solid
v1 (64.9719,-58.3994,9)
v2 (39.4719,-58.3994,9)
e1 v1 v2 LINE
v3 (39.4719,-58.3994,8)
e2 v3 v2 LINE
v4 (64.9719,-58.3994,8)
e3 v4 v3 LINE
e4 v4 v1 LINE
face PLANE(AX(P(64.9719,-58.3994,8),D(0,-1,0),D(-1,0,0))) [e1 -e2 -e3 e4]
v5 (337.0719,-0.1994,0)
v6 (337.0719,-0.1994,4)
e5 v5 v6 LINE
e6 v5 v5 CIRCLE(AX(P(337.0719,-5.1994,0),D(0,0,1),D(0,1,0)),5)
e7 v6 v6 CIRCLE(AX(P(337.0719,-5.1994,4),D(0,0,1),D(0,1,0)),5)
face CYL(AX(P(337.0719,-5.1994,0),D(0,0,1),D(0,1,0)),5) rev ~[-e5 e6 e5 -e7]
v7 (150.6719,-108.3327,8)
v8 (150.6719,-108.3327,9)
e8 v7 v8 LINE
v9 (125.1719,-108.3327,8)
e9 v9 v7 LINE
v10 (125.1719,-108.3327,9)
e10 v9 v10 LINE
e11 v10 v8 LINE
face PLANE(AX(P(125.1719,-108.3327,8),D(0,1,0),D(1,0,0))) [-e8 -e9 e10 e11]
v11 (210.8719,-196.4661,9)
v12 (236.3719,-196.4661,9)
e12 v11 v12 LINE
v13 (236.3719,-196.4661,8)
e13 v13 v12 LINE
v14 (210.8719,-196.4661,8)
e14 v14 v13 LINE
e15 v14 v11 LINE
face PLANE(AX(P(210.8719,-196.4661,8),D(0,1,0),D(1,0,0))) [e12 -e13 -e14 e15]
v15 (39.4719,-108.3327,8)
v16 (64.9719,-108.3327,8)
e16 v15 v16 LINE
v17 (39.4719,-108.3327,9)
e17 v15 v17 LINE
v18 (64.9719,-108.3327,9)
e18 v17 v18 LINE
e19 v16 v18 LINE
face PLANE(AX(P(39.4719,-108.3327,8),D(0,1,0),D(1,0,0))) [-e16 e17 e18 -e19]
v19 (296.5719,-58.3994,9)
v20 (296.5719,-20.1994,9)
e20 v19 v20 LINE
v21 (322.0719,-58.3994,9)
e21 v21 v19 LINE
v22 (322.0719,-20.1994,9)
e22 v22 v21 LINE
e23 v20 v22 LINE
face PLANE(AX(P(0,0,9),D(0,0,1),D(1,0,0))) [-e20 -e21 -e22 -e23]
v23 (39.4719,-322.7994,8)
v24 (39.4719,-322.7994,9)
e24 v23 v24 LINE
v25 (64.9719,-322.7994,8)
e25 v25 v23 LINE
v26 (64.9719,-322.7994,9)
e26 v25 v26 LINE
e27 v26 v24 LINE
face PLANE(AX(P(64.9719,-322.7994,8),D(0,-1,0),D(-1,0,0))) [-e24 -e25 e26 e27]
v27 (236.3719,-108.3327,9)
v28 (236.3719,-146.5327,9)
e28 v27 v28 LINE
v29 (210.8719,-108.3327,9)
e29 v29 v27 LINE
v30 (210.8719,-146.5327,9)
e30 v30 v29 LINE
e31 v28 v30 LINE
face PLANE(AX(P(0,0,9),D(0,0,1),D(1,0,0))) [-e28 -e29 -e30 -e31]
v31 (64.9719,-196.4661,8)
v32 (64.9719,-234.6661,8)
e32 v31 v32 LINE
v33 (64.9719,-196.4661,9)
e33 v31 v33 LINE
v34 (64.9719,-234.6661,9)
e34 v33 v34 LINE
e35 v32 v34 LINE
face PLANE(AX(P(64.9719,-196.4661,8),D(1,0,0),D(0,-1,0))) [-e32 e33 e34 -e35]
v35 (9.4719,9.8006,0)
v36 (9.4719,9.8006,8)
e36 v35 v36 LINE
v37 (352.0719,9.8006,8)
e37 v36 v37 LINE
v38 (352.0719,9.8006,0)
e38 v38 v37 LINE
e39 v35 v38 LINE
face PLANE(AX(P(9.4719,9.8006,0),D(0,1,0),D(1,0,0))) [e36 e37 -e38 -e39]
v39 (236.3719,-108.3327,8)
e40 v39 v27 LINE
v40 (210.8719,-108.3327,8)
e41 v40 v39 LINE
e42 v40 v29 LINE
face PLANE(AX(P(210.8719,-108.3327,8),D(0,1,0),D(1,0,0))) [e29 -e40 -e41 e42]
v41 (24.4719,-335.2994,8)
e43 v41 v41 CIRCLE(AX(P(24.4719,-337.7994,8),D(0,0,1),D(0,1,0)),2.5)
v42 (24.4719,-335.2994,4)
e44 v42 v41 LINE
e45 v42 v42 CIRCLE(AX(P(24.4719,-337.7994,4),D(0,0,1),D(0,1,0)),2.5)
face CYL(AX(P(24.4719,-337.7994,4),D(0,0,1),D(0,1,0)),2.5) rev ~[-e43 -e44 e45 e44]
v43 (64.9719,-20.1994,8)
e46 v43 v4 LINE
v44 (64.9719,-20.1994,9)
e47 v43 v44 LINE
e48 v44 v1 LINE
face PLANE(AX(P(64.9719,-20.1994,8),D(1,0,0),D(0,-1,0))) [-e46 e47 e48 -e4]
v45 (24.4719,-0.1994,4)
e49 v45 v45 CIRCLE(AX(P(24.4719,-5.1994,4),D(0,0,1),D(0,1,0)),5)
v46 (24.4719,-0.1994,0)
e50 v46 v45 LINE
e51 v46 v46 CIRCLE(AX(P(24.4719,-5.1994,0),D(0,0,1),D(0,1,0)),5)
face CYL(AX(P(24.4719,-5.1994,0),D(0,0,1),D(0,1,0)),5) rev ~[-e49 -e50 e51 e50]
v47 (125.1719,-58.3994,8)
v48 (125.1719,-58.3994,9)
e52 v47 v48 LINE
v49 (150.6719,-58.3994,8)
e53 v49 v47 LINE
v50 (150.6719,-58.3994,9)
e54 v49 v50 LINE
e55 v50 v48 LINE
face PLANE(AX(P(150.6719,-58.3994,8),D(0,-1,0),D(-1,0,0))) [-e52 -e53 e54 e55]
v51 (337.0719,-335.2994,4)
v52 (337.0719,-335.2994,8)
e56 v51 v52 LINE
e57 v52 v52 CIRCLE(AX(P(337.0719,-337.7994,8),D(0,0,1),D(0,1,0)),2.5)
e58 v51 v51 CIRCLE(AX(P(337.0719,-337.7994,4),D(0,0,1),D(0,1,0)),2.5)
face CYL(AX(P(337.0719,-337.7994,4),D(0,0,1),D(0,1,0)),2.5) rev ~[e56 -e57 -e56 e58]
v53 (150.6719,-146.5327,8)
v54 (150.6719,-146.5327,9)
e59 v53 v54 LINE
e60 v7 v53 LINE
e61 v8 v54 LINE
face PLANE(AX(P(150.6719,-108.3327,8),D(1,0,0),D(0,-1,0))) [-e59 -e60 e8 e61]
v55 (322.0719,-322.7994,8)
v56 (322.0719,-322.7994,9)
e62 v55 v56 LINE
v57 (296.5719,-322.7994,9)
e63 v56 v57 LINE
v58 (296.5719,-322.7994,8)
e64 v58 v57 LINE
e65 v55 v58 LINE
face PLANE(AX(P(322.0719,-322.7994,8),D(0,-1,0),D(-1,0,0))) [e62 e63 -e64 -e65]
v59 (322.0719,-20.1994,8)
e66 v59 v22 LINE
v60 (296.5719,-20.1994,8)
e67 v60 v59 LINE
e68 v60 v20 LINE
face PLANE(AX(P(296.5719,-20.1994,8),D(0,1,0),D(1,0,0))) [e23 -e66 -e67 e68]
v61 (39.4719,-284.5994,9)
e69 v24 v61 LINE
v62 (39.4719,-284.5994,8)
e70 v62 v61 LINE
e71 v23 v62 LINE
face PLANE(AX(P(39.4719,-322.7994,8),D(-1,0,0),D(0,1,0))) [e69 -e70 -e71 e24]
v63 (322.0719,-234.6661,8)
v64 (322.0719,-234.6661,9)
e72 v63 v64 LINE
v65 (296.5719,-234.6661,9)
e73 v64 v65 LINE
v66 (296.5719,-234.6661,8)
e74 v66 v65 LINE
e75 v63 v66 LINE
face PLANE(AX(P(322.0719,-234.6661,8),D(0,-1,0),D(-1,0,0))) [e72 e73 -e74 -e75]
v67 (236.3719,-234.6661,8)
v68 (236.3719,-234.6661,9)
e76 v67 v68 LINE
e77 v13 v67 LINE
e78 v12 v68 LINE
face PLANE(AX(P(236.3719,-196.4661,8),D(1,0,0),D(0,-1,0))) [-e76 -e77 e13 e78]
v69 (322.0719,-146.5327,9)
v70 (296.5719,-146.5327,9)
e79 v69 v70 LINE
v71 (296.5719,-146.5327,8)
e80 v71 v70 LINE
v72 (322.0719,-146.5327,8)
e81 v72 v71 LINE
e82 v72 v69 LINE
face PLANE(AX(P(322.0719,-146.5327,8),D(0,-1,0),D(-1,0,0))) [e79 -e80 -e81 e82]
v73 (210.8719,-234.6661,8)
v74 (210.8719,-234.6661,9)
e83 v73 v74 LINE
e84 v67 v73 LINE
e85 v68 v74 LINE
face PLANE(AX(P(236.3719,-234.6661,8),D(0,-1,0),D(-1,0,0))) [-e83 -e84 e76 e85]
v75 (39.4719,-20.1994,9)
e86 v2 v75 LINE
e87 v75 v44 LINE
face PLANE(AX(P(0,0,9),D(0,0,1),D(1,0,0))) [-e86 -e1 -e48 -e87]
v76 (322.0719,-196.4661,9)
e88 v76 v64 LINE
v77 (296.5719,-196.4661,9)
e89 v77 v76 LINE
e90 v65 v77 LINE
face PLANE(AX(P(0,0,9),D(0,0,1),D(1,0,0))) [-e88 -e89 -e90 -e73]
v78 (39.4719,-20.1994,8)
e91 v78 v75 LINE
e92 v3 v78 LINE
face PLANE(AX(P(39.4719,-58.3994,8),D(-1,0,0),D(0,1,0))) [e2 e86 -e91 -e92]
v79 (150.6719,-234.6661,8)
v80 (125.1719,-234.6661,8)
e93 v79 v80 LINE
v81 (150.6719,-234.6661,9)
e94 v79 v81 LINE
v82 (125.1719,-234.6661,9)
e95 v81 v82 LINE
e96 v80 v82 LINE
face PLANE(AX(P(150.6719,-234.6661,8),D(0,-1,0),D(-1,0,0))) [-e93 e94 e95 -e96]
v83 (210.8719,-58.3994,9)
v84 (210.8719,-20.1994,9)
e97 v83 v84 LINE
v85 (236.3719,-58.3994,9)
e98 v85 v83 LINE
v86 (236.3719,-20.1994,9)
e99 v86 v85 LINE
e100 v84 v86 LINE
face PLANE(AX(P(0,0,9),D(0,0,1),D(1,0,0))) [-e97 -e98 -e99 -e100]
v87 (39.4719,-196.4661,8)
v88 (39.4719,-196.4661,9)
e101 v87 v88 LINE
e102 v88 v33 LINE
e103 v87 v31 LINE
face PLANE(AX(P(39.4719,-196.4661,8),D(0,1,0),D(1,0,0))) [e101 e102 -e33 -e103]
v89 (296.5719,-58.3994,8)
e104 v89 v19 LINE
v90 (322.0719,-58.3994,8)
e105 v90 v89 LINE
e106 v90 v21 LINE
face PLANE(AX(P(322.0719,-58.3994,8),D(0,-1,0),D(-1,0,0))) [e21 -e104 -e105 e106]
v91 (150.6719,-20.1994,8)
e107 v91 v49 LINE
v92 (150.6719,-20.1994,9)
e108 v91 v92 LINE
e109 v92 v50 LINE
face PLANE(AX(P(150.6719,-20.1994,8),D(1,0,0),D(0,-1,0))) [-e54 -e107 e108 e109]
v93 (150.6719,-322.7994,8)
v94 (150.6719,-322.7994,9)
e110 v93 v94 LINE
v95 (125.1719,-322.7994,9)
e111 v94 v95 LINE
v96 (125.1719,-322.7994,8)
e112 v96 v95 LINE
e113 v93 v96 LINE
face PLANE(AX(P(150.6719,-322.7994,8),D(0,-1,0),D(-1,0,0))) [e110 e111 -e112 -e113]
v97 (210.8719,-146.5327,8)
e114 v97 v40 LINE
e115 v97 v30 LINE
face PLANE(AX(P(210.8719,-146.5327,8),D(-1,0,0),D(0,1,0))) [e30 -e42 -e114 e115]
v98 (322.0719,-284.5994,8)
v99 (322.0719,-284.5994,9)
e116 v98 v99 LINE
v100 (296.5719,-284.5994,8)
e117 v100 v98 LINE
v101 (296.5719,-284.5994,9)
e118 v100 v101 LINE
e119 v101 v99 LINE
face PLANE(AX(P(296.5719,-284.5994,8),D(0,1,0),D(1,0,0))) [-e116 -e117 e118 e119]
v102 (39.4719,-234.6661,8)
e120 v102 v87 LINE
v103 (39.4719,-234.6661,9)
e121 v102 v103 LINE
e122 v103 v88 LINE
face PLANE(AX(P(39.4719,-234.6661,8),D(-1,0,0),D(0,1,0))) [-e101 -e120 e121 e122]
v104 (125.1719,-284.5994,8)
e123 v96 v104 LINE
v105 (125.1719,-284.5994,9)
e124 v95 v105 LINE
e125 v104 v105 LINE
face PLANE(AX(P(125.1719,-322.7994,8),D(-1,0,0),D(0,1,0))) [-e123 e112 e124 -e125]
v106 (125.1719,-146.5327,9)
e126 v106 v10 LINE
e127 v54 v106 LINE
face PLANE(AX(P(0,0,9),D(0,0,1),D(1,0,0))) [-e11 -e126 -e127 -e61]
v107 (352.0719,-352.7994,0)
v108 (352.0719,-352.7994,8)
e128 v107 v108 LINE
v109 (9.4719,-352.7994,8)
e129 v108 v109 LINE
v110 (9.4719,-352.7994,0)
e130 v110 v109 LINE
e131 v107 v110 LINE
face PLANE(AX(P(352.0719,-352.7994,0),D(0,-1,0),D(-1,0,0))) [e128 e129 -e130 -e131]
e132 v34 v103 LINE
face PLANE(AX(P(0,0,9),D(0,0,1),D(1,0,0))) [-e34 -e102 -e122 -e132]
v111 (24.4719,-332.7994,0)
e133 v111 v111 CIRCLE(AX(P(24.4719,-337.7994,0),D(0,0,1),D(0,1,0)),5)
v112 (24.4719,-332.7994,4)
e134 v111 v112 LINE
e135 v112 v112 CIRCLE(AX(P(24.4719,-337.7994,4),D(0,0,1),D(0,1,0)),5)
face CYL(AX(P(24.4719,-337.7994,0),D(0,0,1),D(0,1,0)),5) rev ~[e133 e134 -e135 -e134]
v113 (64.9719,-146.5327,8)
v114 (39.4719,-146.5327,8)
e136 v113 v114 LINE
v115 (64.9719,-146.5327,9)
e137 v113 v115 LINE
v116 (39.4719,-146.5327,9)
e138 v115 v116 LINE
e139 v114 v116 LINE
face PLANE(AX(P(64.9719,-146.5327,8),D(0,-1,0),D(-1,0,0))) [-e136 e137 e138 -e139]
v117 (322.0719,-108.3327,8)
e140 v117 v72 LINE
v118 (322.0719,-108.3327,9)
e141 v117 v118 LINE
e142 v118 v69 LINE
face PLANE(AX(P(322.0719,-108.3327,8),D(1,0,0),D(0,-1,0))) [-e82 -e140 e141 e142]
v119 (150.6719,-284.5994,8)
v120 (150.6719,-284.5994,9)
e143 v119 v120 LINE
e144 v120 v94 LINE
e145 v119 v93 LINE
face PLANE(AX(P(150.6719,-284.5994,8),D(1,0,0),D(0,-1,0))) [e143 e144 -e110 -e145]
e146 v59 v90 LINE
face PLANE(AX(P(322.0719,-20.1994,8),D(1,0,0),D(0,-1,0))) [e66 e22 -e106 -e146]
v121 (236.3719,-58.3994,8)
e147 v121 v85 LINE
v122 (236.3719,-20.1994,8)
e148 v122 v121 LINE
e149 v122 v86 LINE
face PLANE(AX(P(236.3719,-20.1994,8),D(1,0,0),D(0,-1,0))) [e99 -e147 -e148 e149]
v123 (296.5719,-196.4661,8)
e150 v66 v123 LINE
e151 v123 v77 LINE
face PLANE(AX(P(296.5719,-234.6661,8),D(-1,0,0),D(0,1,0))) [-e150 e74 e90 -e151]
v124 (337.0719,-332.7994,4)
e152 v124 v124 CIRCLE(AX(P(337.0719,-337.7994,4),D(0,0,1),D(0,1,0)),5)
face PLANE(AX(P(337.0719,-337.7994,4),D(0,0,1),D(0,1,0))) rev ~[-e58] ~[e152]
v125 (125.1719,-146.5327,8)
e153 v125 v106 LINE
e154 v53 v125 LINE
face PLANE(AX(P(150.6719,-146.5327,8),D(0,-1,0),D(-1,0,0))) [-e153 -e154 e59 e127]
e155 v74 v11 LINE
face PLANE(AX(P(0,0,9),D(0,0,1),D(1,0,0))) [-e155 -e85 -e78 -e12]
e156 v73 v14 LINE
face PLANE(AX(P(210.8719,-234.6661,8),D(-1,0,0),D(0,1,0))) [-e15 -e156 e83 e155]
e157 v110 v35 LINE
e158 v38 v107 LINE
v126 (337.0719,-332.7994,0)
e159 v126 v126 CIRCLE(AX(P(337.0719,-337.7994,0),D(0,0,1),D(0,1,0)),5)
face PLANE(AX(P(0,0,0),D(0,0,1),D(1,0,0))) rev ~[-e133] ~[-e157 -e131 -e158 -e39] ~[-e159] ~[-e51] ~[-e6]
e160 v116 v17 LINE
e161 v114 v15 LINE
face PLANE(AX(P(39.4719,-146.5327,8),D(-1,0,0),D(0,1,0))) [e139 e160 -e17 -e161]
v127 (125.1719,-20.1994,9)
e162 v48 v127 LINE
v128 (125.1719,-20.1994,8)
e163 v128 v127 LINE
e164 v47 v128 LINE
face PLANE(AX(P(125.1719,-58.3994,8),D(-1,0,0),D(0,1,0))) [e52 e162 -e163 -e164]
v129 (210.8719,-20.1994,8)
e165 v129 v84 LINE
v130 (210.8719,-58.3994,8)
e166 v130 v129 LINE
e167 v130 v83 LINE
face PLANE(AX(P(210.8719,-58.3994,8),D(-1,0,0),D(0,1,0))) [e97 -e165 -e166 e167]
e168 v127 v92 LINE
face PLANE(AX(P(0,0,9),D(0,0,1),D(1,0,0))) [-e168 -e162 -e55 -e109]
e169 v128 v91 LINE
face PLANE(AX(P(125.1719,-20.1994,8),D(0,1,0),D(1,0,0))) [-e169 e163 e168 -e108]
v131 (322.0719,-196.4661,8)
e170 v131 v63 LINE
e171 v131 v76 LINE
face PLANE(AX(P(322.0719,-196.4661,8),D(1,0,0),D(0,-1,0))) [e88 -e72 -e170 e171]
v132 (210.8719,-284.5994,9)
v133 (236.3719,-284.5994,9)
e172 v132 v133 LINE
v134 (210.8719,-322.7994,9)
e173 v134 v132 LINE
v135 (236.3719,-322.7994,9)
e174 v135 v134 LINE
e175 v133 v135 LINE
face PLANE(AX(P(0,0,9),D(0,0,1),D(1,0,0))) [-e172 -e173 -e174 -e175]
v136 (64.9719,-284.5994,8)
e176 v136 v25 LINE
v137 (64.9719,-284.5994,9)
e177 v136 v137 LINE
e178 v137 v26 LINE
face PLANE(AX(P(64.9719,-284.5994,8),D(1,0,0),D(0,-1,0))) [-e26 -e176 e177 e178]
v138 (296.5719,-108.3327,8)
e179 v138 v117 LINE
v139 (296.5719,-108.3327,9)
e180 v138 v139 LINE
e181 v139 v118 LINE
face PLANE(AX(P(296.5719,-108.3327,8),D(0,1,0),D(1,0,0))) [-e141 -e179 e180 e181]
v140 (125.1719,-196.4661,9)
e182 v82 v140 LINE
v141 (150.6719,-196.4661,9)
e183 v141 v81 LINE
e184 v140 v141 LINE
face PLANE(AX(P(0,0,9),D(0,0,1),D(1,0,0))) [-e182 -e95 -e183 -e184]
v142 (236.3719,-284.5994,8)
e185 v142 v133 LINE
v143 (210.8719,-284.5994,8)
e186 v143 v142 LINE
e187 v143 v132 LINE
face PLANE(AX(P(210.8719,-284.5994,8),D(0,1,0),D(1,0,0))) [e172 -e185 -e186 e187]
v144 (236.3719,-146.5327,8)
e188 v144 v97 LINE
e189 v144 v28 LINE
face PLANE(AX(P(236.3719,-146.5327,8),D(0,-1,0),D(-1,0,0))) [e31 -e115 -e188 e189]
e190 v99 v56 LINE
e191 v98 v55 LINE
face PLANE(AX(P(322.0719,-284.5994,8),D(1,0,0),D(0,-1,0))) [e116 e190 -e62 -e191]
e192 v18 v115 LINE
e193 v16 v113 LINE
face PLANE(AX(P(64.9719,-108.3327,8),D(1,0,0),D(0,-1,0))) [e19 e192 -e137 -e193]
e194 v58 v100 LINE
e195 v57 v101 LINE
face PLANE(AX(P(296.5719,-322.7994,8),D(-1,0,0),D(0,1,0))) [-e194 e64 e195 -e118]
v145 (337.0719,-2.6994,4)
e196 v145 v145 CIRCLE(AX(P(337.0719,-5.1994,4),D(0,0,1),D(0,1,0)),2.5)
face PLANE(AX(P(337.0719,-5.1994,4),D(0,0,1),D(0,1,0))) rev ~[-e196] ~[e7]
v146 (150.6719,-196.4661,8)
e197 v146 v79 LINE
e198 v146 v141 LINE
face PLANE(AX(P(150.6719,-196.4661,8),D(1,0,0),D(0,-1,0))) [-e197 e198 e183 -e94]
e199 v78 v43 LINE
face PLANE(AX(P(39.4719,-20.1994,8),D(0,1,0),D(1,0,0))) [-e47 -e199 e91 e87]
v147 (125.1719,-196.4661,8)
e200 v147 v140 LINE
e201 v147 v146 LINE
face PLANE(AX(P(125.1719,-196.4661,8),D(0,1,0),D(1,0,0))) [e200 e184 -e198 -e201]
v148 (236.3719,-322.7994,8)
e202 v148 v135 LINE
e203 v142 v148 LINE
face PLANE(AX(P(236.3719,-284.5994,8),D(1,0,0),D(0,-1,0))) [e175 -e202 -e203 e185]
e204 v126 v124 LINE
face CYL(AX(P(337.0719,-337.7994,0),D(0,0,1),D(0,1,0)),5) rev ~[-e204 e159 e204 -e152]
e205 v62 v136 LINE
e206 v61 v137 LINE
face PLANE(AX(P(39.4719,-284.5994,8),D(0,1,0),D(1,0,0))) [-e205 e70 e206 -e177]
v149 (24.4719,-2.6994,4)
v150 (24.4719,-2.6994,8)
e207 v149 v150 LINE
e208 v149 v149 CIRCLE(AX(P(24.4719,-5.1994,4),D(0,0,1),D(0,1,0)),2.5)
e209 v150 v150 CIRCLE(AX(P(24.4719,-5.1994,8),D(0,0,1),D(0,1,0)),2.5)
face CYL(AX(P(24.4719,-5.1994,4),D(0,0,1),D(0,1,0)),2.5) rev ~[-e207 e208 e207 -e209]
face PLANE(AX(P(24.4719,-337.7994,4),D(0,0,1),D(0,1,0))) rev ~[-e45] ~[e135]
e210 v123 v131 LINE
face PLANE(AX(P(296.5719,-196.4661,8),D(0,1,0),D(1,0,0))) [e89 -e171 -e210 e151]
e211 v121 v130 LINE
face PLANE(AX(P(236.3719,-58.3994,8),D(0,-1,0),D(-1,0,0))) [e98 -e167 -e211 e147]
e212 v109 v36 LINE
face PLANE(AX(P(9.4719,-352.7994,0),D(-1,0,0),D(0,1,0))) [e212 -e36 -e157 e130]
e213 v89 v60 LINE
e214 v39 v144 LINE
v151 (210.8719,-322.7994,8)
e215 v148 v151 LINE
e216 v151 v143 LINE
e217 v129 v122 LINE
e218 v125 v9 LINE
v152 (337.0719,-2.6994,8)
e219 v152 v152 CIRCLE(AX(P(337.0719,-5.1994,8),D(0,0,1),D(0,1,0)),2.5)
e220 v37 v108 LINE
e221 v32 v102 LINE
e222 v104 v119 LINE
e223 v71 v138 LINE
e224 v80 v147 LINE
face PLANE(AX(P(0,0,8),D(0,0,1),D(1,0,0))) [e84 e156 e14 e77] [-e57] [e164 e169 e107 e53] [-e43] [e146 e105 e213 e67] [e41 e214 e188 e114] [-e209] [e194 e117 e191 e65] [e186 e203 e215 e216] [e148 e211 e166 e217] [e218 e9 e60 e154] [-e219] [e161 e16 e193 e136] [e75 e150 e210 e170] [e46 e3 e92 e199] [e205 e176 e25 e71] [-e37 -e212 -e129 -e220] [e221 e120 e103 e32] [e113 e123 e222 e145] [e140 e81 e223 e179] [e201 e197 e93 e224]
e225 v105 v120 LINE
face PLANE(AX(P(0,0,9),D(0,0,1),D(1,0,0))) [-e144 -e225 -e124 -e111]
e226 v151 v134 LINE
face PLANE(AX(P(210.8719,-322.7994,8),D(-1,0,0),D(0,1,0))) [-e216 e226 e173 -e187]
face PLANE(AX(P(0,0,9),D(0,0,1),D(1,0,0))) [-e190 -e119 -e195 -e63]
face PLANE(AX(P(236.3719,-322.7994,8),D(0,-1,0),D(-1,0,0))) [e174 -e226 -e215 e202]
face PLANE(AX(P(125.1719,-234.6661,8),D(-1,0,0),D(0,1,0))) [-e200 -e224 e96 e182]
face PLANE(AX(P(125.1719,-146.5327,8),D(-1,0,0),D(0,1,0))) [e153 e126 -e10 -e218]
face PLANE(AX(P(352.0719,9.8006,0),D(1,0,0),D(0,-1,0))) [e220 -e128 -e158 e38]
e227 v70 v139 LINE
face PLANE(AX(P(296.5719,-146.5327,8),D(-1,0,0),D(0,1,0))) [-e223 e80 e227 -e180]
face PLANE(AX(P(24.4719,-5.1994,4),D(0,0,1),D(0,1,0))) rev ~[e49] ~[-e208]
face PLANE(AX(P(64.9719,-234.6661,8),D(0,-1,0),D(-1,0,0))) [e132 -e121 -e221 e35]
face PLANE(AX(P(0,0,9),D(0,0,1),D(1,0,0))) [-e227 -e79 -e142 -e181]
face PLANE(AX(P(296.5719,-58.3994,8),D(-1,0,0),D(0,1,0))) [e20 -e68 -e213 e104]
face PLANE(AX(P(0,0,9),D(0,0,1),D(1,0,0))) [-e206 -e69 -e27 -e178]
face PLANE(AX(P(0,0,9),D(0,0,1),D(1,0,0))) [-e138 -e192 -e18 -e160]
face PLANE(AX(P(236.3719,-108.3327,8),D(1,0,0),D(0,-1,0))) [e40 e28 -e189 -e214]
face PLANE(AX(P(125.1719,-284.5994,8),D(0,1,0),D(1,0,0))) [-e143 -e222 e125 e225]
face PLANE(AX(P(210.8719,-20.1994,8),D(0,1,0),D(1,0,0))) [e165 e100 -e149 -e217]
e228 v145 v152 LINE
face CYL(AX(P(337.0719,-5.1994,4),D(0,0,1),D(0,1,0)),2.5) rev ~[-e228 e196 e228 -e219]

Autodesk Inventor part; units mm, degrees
ref_plane "YZ Plane" through (0, 0, 0) normal (1, 0, 0) x (0, 1, 0)
ref_plane "XZ Plane" through (0, 0, 0) normal (0, 1, 0) x (-1, 0, 0)
ref_plane "XY Plane" through (0, 0, 0) normal (0, 0, 1) x (1, 0, 0)
sketch "Szkic1" plane through (0, 0, 0) normal (0, 0, 1) x (1, 0, 0)
  line L0 (9.4719, 9.8006) -> (352.0719, 9.8006)
  line L1 (352.0719, 9.8006) -> (352.0719, -352.7994)
  line L2 (352.0719, -352.7994) -> (9.4719, -352.7994)
  line L3 (9.4719, -352.7994) -> (9.4719, 9.8006)
  point P0 (0, 0)
  point P1 (24.4719, -337.7994)
  point P2 (337.0719, -337.7994)
  point P3 (24.4719, -5.1994)
  point P4 (337.0719, -5.1994)
  dimension "d0" = 342.6
  dimension "d1" = 362.6
  dimension "d4" = 15
  dimension "d5" = 15
  dimension "d6" = 15
  dimension "d7" = 15
  dimension "d8" = 15
  dimension "d9" = 15
  dimension "d10" = 15
  dimension "d11" = 15
  dimension "d19" = 312.6
  dimension "d20" = 332.6
extrude "Wyciągnięcie proste1" add sketch "Szkic1" along normal blind 8
hole "Otwór1" at (24.4719, -337.7994, 0) at (337.0719, -337.7994, 0) at (24.4719, -5.1994, 0) at (337.0719, -5.1994, 0) direction (0, 0, 1) diameter 5 end through all counterbore diameter 10 counterbore depth 4
sketch "Szkic2" plane through (0, 0, 8) normal (0, 0, 1) x (1, 0, 0)
  circle A0 centre (24.4719, -5.1994) radius 2.5 projected
  circle A1 centre (24.4719, -337.7994) radius 2.5 projected
  circle A2 centre (337.0719, -337.7994) radius 2.5 projected
  circle A3 centre (337.0719, -5.1994) radius 2.5 projected
  line L0 (352.0719, 9.8006) -> (9.4719, 9.8006) projected
  line L1 (9.4719, 9.8006) -> (9.4719, -352.7994) projected
  line L2 (9.4719, -352.7994) -> (352.0719, -352.7994) projected
  line L3 (352.0719, -352.7994) -> (352.0719, 9.8006) projected
  line L4 (39.4719, -20.1994) -> (64.9719, -20.1994)
  line L5 (64.9719, -20.1994) -> (64.9719, -58.3994)
  line L6 (64.9719, -58.3994) -> (39.4719, -58.3994)
  line L7 (39.4719, -58.3994) -> (39.4719, -20.1994)
  line L8 (125.1719, -20.1994) -> (150.6719, -20.1994)
  line L9 (150.6719, -20.1994) -> (150.6719, -58.3994)
  line L10 (150.6719, -58.3994) -> (125.1719, -58.3994)
  line L11 (125.1719, -58.3994) -> (125.1719, -20.1994)
  line L12 (210.8719, -20.1994) -> (236.3719, -20.1994)
  line L13 (236.3719, -20.1994) -> (236.3719, -58.3994)
  line L14 (236.3719, -58.3994) -> (210.8719, -58.3994)
  line L15 (210.8719, -58.3994) -> (210.8719, -20.1994)
  line L16 (296.5719, -20.1994) -> (322.0719, -20.1994)
  line L17 (322.0719, -20.1994) -> (322.0719, -58.3994)
  line L18 (322.0719, -58.3994) -> (296.5719, -58.3994)
  line L19 (296.5719, -58.3994) -> (296.5719, -20.1994)
  line L20 (39.4719, -108.3327) -> (64.9719, -108.3327)
  line L21 (64.9719, -108.3327) -> (64.9719, -146.5327)
  line L22 (64.9719, -146.5327) -> (39.4719, -146.5327)
  line L23 (39.4719, -146.5327) -> (39.4719, -108.3327)
  line L24 (125.1719, -108.3327) -> (150.6719, -108.3327)
  line L25 (150.6719, -108.3327) -> (150.6719, -146.5327)
  line L26 (150.6719, -146.5327) -> (125.1719, -146.5327)
  line L27 (125.1719, -146.5327) -> (125.1719, -108.3327)
  line L28 (210.8719, -108.3327) -> (236.3719, -108.3327)
  line L29 (236.3719, -108.3327) -> (236.3719, -146.5327)
  line L30 (236.3719, -146.5327) -> (210.8719, -146.5327)
  line L31 (210.8719, -146.5327) -> (210.8719, -108.3327)
  line L32 (296.5719, -108.3327) -> (322.0719, -108.3327)
  line L33 (322.0719, -108.3327) -> (322.0719, -146.5327)
  line L34 (322.0719, -146.5327) -> (296.5719, -146.5327)
  line L35 (296.5719, -146.5327) -> (296.5719, -108.3327)
  line L36 (39.4719, -196.4661) -> (64.9719, -196.4661)
  line L37 (64.9719, -196.4661) -> (64.9719, -234.6661)
  line L38 (64.9719, -234.6661) -> (39.4719, -234.6661)
  line L39 (39.4719, -234.6661) -> (39.4719, -196.4661)
  line L40 (125.1719, -196.4661) -> (150.6719, -196.4661)
  line L41 (150.6719, -196.4661) -> (150.6719, -234.6661)
  line L42 (150.6719, -234.6661) -> (125.1719, -234.6661)
  line L43 (125.1719, -234.6661) -> (125.1719, -196.4661)
  line L44 (210.8719, -196.4661) -> (236.3719, -196.4661)
  line L45 (236.3719, -196.4661) -> (236.3719, -234.6661)
  line L46 (236.3719, -234.6661) -> (210.8719, -234.6661)
  line L47 (210.8719, -234.6661) -> (210.8719, -196.4661)
  line L48 (296.5719, -196.4661) -> (322.0719, -196.4661)
  line L49 (322.0719, -196.4661) -> (322.0719, -234.6661)
  line L50 (322.0719, -234.6661) -> (296.5719, -234.6661)
  line L51 (296.5719, -234.6661) -> (296.5719, -196.4661)
  line L52 (39.4719, -284.5994) -> (64.9719, -284.5994)
  line L53 (64.9719, -284.5994) -> (64.9719, -322.7994)
  line L54 (64.9719, -322.7994) -> (39.4719, -322.7994)
  line L55 (39.4719, -322.7994) -> (39.4719, -284.5994)
  line L56 (125.1719, -284.5994) -> (150.6719, -284.5994)
  line L57 (150.6719, -284.5994) -> (150.6719, -322.7994)
  line L58 (150.6719, -322.7994) -> (125.1719, -322.7994)
  line L59 (125.1719, -322.7994) -> (125.1719, -284.5994)
  line L60 (210.8719, -284.5994) -> (236.3719, -284.5994)
  line L61 (236.3719, -284.5994) -> (236.3719, -322.7994)
  line L62 (236.3719, -322.7994) -> (210.8719, -322.7994)
  line L63 (210.8719, -322.7994) -> (210.8719, -284.5994)
  line L64 (296.5719, -284.5994) -> (322.0719, -284.5994)
  line L65 (322.0719, -284.5994) -> (322.0719, -322.7994)
  line L66 (322.0719, -322.7994) -> (296.5719, -322.7994)
  line L67 (296.5719, -322.7994) -> (296.5719, -284.5994)
  point P0 (0, 0)
  dimension "d55" = 362.6
  dimension "d56" = 342.6
  dimension "d57" = 30
  dimension "d58" = 30
  dimension "d61" = 85.7
  dimension "d64" = 88.1333
  dimension "d69" = 25.5
  dimension "d70" = 38.2
extrude "Wyciągnięcie proste2" add sketch "Szkic2" along normal blind 1 contours L4 L5 L6 L7 | L8 L9 L10 L11 | L12 L13 L14 L15 | L16 L17 L18 L19 | L20 L21 L22 L23 | L24 L25 L26 L27 | L28 L29 L30 L31 | L32 L33 L34 L35 | L36 L37 L38 L39 | L40 L41 L42 L43 | L44 L45 L46 L47 | L48 L49 L50 L51 | L52 L53 L54 L55 | L56 L57 L58 L59 | L60 L61 L62 L63 | L64 L65 L66 L67
equation "\"d5\" = d4"
equation "\"d6\" = d4"
equation "\"d7\" = d4"
equation "\"d8\" = d4"
equation "\"d9\" = d4"
equation "\"d10\" = d4"
equation "\"d11\" = d4"
equation "\"d61\" = -0.666667 * d58 + 0.333333 * d56 - 0.333333 * d69"
equation "\"d64\" = -0.666667 * d57 + 0.333333 * d55 - 0.333333 * d70"
properties part number "CNCM_ALU_8mm_Thick_Heatbed_Plate"
